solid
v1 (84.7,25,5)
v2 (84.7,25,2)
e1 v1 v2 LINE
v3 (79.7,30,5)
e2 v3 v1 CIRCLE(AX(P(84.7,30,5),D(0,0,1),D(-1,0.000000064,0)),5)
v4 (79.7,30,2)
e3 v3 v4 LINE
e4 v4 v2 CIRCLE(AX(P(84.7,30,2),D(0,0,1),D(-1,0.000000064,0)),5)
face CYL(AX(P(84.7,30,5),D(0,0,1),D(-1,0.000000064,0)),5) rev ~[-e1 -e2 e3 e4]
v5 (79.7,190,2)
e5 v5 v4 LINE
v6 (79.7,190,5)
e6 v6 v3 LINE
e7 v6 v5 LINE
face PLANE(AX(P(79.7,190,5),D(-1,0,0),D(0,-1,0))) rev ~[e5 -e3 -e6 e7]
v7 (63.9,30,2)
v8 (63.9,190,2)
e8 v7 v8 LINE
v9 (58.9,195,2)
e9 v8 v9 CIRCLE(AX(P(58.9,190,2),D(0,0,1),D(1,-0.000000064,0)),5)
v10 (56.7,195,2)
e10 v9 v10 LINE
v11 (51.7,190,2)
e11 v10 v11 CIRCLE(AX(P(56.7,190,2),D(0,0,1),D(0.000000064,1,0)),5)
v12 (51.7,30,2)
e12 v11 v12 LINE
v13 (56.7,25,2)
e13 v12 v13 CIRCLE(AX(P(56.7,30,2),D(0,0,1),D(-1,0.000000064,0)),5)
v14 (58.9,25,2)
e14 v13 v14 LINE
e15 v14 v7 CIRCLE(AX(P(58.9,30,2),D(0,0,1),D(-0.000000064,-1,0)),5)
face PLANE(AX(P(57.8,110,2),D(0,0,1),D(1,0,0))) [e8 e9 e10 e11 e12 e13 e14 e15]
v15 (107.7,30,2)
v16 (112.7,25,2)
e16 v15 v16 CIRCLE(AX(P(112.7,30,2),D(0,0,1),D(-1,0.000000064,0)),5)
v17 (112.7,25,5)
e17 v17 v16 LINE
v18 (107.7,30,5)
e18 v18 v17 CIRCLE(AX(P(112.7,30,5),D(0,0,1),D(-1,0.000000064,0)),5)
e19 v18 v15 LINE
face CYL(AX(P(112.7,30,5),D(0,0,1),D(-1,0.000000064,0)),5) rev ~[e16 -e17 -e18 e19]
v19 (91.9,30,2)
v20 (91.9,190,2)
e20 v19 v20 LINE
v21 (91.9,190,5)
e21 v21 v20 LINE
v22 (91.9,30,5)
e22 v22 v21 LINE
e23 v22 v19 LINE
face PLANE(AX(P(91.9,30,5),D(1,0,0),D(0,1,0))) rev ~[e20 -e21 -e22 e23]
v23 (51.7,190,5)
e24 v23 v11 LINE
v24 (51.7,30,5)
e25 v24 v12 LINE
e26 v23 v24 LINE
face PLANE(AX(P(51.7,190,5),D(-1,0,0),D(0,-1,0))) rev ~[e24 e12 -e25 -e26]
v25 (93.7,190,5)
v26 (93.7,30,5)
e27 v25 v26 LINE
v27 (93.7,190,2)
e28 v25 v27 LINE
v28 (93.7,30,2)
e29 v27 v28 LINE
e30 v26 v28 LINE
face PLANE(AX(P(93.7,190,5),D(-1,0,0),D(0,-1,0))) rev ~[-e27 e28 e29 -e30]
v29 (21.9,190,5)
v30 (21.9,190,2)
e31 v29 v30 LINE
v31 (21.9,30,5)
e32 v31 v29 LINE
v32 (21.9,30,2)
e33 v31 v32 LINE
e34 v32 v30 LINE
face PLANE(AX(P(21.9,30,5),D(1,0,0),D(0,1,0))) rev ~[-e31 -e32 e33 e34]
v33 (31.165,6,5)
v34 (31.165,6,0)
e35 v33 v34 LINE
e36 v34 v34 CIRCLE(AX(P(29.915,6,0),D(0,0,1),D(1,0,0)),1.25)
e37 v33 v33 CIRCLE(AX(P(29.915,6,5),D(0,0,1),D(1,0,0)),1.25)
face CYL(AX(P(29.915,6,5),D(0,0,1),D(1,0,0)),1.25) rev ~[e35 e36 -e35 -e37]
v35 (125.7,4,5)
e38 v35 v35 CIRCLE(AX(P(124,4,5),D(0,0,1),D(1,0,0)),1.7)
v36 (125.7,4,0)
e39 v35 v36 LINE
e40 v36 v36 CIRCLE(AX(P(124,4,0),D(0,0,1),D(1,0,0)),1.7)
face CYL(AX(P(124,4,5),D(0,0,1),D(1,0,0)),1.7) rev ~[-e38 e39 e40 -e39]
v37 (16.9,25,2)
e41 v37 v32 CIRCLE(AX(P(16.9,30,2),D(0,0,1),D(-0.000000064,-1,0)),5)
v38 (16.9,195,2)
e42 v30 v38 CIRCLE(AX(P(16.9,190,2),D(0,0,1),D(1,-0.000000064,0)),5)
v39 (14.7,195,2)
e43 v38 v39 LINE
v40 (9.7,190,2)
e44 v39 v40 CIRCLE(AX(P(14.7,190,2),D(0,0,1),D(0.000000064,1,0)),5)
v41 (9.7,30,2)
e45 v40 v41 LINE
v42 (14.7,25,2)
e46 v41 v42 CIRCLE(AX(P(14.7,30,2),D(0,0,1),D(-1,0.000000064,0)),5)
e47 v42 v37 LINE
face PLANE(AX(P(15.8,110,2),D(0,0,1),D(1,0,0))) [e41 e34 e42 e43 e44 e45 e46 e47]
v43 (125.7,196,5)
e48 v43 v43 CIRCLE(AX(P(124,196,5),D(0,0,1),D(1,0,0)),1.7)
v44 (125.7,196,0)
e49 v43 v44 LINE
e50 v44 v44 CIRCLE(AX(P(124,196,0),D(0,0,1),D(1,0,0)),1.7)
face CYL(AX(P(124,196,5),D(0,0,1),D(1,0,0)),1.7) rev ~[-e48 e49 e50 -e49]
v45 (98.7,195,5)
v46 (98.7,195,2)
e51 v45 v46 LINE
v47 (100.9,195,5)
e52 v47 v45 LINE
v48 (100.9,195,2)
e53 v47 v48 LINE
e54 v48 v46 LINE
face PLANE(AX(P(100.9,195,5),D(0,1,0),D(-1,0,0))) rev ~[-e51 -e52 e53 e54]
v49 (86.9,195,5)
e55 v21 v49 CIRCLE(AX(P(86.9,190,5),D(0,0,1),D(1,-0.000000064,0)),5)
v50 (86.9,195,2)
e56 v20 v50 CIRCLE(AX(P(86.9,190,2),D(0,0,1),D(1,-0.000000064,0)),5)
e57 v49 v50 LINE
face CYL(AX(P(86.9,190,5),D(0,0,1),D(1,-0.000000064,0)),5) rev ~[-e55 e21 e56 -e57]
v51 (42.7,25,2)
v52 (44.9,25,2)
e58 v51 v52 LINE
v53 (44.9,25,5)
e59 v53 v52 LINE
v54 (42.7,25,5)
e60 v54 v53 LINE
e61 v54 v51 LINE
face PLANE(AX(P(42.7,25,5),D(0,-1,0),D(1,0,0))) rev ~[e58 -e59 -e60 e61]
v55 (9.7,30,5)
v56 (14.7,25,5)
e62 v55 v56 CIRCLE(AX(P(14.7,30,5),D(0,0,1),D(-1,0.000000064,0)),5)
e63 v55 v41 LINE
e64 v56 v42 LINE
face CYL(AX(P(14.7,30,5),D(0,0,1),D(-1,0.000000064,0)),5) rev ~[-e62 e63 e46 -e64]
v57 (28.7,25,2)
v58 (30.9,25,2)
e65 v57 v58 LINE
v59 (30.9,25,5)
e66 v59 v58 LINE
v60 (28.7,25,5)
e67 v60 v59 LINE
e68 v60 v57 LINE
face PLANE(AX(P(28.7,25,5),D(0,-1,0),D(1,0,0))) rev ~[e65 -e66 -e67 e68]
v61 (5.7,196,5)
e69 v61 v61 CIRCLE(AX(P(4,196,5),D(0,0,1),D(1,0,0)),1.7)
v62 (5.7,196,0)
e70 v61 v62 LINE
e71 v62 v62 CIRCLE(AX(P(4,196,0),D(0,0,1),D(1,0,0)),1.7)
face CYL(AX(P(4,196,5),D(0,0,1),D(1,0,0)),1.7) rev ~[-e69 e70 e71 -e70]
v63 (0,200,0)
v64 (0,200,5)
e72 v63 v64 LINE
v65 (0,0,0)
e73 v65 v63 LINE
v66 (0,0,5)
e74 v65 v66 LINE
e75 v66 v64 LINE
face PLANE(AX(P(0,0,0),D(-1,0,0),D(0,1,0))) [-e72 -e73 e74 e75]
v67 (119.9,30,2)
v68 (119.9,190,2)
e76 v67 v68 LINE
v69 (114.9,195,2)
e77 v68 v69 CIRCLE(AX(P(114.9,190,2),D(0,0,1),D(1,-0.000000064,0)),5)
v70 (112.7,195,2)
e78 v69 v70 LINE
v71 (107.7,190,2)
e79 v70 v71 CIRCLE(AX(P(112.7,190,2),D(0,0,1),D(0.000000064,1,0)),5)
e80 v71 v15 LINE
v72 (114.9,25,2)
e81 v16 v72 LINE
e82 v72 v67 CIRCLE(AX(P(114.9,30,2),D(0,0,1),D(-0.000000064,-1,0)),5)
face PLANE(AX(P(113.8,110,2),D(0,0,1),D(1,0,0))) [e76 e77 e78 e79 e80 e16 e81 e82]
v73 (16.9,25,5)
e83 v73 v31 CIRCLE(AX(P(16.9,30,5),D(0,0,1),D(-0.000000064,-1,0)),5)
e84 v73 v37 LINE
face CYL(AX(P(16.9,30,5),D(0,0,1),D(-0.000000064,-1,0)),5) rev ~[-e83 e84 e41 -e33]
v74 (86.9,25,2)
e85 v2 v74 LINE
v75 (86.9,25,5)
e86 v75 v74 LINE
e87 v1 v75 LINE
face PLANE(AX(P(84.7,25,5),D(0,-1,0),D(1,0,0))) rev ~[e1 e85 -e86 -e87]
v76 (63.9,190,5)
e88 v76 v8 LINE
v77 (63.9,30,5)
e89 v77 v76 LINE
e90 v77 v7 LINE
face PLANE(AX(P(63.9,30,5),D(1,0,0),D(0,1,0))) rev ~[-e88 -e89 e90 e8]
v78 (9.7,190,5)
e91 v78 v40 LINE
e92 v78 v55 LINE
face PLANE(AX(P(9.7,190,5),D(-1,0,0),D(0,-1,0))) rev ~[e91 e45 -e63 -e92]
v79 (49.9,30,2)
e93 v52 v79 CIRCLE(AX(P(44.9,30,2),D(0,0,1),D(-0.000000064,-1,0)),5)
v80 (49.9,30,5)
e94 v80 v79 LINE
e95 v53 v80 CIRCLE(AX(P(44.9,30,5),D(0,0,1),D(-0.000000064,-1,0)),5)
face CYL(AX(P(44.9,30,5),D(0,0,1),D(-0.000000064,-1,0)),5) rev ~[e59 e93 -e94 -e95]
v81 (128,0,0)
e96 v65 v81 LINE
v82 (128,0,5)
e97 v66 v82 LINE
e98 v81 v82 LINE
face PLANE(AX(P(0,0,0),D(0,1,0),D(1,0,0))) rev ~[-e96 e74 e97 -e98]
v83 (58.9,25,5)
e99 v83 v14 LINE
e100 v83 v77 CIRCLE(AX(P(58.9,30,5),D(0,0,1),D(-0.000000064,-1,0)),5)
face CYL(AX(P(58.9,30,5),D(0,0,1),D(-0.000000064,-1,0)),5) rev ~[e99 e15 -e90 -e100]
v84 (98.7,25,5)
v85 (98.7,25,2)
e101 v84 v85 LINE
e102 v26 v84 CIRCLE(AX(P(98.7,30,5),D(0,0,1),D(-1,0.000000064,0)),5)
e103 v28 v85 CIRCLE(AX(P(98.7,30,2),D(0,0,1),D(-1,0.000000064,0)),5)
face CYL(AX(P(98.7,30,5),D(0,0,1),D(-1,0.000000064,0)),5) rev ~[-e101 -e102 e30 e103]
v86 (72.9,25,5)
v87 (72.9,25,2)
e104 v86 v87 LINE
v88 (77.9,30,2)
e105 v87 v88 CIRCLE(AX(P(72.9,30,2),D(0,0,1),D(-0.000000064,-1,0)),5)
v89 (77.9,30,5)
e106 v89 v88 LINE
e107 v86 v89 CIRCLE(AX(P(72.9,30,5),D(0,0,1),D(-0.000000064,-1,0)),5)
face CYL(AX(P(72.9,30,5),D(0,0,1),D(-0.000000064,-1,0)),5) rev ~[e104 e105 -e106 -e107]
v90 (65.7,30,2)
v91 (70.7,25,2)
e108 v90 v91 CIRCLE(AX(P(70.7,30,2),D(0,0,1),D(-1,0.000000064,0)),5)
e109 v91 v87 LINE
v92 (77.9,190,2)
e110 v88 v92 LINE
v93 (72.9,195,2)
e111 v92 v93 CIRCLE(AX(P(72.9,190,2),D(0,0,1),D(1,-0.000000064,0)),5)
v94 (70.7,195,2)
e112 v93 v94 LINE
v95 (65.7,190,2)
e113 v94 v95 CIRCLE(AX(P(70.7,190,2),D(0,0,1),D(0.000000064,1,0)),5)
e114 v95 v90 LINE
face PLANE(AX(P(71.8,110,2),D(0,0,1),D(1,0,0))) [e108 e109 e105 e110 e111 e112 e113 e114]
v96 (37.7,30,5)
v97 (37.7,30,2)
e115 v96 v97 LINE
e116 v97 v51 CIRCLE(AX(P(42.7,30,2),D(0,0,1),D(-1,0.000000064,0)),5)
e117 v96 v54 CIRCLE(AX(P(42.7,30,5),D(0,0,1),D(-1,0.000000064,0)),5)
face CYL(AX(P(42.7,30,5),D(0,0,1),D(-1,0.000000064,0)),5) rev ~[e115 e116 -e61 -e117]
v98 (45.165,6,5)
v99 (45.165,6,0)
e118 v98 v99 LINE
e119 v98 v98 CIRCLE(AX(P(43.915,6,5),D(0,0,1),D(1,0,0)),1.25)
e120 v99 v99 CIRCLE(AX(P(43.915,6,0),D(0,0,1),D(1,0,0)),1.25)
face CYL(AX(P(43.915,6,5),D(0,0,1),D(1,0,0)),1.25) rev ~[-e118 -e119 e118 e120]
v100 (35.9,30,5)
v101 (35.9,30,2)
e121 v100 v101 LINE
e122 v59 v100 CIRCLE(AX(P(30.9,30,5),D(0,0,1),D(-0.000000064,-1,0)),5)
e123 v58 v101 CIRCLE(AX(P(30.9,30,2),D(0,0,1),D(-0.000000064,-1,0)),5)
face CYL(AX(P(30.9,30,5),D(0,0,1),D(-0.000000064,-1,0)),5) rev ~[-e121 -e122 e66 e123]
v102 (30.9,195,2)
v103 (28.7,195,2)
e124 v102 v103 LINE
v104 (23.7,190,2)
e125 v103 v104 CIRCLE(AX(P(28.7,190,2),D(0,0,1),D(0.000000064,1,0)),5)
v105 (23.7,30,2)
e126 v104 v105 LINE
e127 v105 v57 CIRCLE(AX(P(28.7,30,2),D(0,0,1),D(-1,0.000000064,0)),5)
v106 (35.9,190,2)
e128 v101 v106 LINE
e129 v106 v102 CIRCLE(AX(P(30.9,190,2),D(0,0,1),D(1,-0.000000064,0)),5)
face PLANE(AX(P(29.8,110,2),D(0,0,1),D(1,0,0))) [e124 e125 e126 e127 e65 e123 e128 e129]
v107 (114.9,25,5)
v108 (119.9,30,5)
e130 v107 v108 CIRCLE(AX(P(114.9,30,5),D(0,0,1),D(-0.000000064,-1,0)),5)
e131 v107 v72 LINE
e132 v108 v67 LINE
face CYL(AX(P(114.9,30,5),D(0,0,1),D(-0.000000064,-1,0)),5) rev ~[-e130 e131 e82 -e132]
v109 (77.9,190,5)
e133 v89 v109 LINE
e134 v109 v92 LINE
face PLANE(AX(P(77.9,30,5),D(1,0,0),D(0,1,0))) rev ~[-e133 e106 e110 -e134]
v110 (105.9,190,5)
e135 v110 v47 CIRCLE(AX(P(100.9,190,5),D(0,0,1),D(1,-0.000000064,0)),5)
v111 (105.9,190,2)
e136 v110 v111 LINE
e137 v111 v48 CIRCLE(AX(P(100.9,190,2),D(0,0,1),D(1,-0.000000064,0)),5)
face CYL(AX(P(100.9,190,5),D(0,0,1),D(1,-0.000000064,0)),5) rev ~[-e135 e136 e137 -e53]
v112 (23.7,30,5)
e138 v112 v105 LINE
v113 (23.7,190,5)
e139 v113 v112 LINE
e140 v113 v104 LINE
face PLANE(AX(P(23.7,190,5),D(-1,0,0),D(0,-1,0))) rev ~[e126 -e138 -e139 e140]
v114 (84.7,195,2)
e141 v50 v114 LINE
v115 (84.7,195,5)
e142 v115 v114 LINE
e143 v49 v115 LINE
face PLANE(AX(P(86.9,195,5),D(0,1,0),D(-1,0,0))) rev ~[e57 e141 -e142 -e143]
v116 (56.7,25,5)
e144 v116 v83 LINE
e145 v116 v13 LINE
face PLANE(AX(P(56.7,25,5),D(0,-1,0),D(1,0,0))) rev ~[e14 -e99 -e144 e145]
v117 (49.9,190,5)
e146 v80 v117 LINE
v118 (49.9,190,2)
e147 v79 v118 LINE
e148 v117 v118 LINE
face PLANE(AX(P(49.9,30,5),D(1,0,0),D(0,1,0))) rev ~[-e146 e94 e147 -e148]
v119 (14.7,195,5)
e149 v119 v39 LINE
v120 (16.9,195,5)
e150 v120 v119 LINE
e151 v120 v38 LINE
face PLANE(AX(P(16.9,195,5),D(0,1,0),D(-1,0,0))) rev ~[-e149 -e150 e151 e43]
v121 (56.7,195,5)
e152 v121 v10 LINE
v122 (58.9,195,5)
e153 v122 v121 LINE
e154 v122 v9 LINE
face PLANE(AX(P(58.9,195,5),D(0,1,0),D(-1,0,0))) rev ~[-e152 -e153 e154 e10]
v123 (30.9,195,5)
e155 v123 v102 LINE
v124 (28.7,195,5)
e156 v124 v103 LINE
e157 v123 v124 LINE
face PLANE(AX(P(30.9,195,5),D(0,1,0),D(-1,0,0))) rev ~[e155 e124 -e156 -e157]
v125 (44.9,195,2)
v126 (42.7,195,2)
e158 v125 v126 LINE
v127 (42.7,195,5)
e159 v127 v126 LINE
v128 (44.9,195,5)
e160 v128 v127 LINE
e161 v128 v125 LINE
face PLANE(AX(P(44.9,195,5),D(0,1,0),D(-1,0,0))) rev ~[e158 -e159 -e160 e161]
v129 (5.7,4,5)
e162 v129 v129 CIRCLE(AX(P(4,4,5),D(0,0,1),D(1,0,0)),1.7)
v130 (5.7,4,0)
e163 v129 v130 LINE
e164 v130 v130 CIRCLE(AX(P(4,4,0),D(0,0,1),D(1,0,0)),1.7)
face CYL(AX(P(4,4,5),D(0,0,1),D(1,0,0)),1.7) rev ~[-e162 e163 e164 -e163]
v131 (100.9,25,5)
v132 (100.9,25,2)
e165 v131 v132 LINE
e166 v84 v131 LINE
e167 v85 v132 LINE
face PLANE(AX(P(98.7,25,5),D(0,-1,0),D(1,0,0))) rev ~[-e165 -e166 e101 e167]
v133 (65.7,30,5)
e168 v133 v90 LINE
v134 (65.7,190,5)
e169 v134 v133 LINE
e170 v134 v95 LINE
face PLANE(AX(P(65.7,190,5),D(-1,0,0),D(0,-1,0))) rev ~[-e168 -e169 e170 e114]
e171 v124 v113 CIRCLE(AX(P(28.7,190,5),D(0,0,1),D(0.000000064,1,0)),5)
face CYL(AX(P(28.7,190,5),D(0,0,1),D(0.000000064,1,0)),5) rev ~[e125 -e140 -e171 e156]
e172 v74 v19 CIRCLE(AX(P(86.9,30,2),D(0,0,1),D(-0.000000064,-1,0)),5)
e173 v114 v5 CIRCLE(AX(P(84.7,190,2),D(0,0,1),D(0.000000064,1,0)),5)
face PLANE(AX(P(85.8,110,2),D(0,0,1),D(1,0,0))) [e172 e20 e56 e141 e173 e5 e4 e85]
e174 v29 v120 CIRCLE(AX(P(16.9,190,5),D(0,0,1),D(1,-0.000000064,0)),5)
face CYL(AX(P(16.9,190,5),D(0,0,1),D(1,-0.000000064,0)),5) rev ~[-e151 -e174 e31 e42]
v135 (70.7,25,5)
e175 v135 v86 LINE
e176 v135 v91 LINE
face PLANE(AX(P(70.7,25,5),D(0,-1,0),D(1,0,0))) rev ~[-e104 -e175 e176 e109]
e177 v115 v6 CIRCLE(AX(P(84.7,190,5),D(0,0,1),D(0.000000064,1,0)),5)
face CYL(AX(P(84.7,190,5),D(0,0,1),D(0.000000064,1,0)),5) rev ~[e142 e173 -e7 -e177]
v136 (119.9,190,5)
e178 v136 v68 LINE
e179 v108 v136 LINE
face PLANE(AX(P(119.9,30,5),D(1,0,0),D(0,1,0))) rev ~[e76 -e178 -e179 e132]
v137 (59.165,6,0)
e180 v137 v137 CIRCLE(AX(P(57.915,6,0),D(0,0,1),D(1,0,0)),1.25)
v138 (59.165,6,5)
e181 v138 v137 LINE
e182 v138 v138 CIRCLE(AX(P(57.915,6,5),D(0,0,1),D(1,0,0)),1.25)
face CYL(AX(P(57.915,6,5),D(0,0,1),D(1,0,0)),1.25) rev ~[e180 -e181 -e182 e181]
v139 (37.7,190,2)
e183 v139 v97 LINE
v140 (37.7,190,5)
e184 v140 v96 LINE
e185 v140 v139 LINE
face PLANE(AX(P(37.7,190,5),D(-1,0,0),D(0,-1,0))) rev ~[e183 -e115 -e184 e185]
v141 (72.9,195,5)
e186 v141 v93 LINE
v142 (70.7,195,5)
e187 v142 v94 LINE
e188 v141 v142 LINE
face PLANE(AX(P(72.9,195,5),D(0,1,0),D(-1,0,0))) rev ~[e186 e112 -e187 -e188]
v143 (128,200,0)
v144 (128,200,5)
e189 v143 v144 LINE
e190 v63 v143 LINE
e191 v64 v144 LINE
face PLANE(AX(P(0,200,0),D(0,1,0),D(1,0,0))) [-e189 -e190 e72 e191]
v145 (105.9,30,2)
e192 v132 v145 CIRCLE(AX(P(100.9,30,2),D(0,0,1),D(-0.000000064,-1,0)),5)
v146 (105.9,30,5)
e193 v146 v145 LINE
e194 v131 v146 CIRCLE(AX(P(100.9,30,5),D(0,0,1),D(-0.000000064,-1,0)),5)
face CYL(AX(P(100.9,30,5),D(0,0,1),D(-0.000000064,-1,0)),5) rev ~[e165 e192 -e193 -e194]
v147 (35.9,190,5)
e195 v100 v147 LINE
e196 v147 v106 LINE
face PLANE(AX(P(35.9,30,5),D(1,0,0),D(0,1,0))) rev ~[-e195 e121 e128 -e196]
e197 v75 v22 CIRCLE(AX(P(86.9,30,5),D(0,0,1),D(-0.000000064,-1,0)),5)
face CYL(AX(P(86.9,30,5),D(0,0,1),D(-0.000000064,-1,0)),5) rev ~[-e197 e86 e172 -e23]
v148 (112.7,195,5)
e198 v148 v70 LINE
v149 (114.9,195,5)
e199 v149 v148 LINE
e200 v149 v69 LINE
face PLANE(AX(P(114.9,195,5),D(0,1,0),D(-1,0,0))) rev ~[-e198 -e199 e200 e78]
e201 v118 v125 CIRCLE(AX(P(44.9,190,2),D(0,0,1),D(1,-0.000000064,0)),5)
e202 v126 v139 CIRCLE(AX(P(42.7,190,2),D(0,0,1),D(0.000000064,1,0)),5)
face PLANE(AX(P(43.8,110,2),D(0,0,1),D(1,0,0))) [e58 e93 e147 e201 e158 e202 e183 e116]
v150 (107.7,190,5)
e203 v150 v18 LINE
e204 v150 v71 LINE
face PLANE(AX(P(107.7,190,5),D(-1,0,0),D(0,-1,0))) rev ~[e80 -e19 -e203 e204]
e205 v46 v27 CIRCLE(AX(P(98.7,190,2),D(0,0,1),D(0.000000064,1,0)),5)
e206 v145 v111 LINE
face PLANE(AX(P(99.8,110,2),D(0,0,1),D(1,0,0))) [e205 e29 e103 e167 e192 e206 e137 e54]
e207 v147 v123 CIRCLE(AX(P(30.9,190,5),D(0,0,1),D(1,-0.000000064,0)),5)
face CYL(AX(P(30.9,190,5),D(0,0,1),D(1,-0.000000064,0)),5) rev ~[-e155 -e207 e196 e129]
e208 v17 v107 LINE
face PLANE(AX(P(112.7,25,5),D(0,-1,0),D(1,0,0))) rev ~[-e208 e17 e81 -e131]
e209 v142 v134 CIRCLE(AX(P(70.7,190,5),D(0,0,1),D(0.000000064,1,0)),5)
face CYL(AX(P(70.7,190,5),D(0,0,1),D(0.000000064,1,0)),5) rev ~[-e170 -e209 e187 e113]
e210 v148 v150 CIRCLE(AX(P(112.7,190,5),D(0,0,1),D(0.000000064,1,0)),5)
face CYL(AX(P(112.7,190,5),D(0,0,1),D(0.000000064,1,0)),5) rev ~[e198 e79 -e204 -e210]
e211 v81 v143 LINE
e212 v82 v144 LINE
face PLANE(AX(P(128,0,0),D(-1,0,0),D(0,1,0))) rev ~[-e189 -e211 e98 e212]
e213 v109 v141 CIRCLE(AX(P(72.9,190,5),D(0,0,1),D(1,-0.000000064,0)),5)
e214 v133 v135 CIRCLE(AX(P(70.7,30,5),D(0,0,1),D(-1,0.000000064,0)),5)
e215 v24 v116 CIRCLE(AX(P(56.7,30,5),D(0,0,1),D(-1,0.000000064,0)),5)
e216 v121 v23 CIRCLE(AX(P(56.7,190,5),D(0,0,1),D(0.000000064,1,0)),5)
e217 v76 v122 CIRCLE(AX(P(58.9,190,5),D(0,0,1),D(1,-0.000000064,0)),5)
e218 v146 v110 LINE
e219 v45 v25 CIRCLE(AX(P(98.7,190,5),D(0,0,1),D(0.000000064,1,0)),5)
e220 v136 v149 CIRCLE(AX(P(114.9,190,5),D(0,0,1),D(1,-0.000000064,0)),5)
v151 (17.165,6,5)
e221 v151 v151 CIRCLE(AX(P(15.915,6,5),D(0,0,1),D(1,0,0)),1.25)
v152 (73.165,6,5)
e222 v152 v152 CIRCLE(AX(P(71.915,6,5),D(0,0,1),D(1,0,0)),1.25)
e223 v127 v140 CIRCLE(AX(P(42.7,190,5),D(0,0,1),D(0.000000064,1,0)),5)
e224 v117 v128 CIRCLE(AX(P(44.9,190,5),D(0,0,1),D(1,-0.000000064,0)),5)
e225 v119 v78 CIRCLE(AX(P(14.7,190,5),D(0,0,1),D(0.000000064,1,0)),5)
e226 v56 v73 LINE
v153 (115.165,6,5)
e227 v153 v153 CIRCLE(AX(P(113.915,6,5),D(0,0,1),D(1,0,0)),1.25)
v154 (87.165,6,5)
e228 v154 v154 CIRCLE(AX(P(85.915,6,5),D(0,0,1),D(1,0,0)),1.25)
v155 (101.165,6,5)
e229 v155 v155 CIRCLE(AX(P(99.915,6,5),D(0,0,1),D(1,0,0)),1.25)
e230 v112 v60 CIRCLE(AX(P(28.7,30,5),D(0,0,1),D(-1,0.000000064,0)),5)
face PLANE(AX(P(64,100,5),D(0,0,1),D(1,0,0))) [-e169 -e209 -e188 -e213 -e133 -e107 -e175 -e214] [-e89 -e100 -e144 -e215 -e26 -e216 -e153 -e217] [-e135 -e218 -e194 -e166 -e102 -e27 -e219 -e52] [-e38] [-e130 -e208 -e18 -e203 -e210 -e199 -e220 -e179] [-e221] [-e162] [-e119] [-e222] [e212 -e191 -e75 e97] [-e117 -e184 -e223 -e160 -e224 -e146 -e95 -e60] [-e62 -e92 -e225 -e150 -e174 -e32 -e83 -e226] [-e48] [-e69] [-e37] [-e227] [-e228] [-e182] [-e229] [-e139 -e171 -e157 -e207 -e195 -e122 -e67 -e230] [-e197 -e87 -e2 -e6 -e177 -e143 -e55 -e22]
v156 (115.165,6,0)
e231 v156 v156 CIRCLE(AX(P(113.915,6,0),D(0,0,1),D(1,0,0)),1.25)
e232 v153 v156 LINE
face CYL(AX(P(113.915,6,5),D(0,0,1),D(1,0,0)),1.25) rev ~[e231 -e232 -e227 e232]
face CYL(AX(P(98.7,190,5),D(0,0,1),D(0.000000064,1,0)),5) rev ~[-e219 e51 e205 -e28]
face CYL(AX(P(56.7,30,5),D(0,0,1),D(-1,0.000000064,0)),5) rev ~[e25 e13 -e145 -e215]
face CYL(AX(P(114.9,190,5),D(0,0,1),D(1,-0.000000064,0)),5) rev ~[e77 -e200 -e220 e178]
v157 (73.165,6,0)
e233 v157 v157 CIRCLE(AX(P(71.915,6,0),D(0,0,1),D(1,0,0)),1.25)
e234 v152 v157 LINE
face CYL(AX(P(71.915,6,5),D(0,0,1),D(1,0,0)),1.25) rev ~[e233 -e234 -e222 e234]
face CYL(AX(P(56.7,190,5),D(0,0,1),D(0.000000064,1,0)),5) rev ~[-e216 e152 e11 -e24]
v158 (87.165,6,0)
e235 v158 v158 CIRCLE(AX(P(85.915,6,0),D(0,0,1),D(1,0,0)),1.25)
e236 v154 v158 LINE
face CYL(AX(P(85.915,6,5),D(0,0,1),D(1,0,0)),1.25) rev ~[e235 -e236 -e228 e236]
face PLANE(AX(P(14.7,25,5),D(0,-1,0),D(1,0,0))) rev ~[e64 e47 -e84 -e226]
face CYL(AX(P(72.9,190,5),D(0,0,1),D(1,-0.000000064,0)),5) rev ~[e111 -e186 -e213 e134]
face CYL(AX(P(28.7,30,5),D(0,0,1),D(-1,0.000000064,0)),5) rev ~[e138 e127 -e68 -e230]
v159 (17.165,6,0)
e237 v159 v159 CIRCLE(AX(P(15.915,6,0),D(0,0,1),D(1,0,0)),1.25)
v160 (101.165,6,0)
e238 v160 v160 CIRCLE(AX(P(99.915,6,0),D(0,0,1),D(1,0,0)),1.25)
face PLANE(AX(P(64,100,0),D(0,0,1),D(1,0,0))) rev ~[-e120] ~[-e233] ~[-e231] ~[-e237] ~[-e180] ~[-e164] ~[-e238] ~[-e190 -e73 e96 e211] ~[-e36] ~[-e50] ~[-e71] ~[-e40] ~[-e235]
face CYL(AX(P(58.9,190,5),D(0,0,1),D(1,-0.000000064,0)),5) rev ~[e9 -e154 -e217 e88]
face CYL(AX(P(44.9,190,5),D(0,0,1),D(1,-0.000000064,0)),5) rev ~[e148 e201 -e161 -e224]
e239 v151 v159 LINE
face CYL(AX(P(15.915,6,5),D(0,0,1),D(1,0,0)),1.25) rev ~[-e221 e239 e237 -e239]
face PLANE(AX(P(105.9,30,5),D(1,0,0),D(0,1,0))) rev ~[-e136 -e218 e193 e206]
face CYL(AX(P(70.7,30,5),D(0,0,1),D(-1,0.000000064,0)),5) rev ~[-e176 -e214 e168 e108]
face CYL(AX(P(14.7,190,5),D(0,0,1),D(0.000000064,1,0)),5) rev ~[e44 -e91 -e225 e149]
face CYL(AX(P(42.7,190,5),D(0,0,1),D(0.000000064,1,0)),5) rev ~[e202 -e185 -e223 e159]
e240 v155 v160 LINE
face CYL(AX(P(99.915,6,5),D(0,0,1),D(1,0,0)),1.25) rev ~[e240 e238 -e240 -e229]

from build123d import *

# Parameters (mm, degrees)
F0_W     = 128
F0_H     = 200
F1_DEPTH = 5
F2_R     = 1.25
F2_R_2   = 1.7
F3_DEPTH = 25
F5_DEPTH = 3


with BuildPart() as f1:
    # F0 (on Top) → F1 (new body)
    with BuildSketch(Plane.XY):
        with Locations((64, 100)):
            Rectangle(F0_W, F0_H)
    extrude(amount=F1_DEPTH)

    # F2 (on face) → F3 (cut)
    with BuildSketch(Plane.XY.offset(5)):
        with Locations((113.915, 6)):
            Circle(F2_R)
        with Locations((4, 196)):
            Circle(F2_R_2)
        with Locations((124, 196)):
            Circle(F2_R_2)
        with Locations((4, 4)):
            Circle(F2_R_2)
        with Locations((124, 4)):
            Circle(F2_R_2)
        with Locations((43.915, 6)):
            Circle(F2_R)
        with Locations((85.915, 6)):
            Circle(F2_R)
        with Locations((71.915, 6)):
            Circle(F2_R)
        with Locations((29.915, 6)):
            Circle(F2_R)
        with Locations((15.915, 6)):
            Circle(F2_R)
        with Locations((57.915, 6)):
            Circle(F2_R)
        with Locations((99.915, 6)):
            Circle(F2_R)
    extrude(amount=-F3_DEPTH, mode=Mode.SUBTRACT)

    # F4 (on face) → F5 (cut)
    with BuildSketch(Plane.XY.offset(5)):
        with BuildLine():
            ThreePointArc((119.9, 190), (118.435534, 193.535534), (114.9, 195))
            Line((114.9, 195), (112.7, 195))
            ThreePointArc((112.7, 195), (109.164466, 193.535534), (107.7, 190))
            Line((107.7, 190), (107.7, 30))
            ThreePointArc((107.7, 30), (109.164466, 26.464466), (112.7, 25))
            Line((112.7, 25), (114.9, 25))
            ThreePointArc((114.9, 25), (118.435534, 26.464466), (119.9, 30))
            Line((119.9, 30), (119.9, 190))
        make_face()
        with BuildLine():
            ThreePointArc((105.9, 190), (104.435534, 193.535534), (100.9, 195))
            Line((100.9, 195), (98.7, 195))
            ThreePointArc((98.7, 195), (95.164466, 193.535534), (93.7, 190))
            Line((93.7, 190), (93.7, 30))
            ThreePointArc((93.7, 30), (95.164466, 26.464466), (98.7, 25))
            Line((98.7, 25), (100.9, 25))
            ThreePointArc((100.9, 25), (104.435534, 26.464466), (105.9, 30))
            Line((105.9, 30), (105.9, 190))
        make_face()
        with BuildLine():
            Line((86.9, 195), (84.7, 195))
            ThreePointArc((84.7, 195), (81.164466, 193.535534), (79.7, 190))
            Line((79.7, 190), (79.7, 30))
            ThreePointArc((79.7, 30), (81.164466, 26.464466), (84.7, 25))
            Line((84.7, 25), (86.9, 25))
            ThreePointArc((86.9, 25), (90.435534, 26.464466), (91.9, 30))
            Line((91.9, 30), (91.9, 190))
            ThreePointArc((91.9, 190), (90.435534, 193.535534), (86.9, 195))
        make_face()
        with BuildLine():
            Line((72.9, 195), (70.7, 195))
            ThreePointArc((70.7, 195), (67.164466, 193.535534), (65.7, 190))
            Line((65.7, 190), (65.7, 30))
            ThreePointArc((65.7, 30), (67.164466, 26.464466), (70.7, 25))
            Line((70.7, 25), (72.9, 25))
            ThreePointArc((72.9, 25), (76.435534, 26.464466), (77.9, 30))
            Line((77.9, 30), (77.9, 190))
            ThreePointArc((77.9, 190), (76.435534, 193.535534), (72.9, 195))
        make_face()
        with BuildLine():
            Line((58.9, 195), (56.7, 195))
            ThreePointArc((56.7, 195), (53.164466, 193.535534), (51.7, 190))
            Line((51.7, 190), (51.7, 30))
            ThreePointArc((51.7, 30), (53.164466, 26.464466), (56.7, 25))
            Line((56.7, 25), (58.9, 25))
            ThreePointArc((58.9, 25), (62.435534, 26.464466), (63.9, 30))
            Line((63.9, 30), (63.9, 190))
            ThreePointArc((63.9, 190), (62.435534, 193.535534), (58.9, 195))
        make_face()
        with BuildLine():
            Line((44.9, 195), (42.7, 195))
            ThreePointArc((42.7, 195), (39.164466, 193.535534), (37.7, 190))
            Line((37.7, 190), (37.7, 30))
            ThreePointArc((37.7, 30), (39.164466, 26.464466), (42.7, 25))
            Line((42.7, 25), (44.9, 25))
            ThreePointArc((44.9, 25), (48.435534, 26.464466), (49.9, 30))
            Line((49.9, 30), (49.9, 190))
            ThreePointArc((49.9, 190), (48.435534, 193.535534), (44.9, 195))
        make_face()
        with BuildLine():
            Line((30.9, 195), (28.7, 195))
            ThreePointArc((28.7, 195), (25.164466, 193.535534), (23.7, 190))
            Line((23.7, 190), (23.7, 30))
            ThreePointArc((23.7, 30), (25.164466, 26.464466), (28.7, 25))
            Line((28.7, 25), (30.9, 25))
            ThreePointArc((30.9, 25), (34.435534, 26.464466), (35.9, 30))
            Line((35.9, 30), (35.9, 190))
            ThreePointArc((35.9, 190), (34.435534, 193.535534), (30.9, 195))
        make_face()
        with BuildLine():
            Line((16.9, 195), (14.7, 195))
            ThreePointArc((14.7, 195), (11.164466, 193.535534), (9.7, 190))
            Line((9.7, 190), (9.7, 30))
            ThreePointArc((9.7, 30), (11.164466, 26.464466), (14.7, 25))
            Line((14.7, 25), (16.9, 25))
            ThreePointArc((16.9, 25), (20.435534, 26.464466), (21.9, 30))
            Line((21.9, 30), (21.9, 190))
            ThreePointArc((21.9, 190), (20.435534, 193.535534), (16.9, 195))
        make_face()
    extrude(amount=-F5_DEPTH, mode=Mode.SUBTRACT)


solid = f1.part
